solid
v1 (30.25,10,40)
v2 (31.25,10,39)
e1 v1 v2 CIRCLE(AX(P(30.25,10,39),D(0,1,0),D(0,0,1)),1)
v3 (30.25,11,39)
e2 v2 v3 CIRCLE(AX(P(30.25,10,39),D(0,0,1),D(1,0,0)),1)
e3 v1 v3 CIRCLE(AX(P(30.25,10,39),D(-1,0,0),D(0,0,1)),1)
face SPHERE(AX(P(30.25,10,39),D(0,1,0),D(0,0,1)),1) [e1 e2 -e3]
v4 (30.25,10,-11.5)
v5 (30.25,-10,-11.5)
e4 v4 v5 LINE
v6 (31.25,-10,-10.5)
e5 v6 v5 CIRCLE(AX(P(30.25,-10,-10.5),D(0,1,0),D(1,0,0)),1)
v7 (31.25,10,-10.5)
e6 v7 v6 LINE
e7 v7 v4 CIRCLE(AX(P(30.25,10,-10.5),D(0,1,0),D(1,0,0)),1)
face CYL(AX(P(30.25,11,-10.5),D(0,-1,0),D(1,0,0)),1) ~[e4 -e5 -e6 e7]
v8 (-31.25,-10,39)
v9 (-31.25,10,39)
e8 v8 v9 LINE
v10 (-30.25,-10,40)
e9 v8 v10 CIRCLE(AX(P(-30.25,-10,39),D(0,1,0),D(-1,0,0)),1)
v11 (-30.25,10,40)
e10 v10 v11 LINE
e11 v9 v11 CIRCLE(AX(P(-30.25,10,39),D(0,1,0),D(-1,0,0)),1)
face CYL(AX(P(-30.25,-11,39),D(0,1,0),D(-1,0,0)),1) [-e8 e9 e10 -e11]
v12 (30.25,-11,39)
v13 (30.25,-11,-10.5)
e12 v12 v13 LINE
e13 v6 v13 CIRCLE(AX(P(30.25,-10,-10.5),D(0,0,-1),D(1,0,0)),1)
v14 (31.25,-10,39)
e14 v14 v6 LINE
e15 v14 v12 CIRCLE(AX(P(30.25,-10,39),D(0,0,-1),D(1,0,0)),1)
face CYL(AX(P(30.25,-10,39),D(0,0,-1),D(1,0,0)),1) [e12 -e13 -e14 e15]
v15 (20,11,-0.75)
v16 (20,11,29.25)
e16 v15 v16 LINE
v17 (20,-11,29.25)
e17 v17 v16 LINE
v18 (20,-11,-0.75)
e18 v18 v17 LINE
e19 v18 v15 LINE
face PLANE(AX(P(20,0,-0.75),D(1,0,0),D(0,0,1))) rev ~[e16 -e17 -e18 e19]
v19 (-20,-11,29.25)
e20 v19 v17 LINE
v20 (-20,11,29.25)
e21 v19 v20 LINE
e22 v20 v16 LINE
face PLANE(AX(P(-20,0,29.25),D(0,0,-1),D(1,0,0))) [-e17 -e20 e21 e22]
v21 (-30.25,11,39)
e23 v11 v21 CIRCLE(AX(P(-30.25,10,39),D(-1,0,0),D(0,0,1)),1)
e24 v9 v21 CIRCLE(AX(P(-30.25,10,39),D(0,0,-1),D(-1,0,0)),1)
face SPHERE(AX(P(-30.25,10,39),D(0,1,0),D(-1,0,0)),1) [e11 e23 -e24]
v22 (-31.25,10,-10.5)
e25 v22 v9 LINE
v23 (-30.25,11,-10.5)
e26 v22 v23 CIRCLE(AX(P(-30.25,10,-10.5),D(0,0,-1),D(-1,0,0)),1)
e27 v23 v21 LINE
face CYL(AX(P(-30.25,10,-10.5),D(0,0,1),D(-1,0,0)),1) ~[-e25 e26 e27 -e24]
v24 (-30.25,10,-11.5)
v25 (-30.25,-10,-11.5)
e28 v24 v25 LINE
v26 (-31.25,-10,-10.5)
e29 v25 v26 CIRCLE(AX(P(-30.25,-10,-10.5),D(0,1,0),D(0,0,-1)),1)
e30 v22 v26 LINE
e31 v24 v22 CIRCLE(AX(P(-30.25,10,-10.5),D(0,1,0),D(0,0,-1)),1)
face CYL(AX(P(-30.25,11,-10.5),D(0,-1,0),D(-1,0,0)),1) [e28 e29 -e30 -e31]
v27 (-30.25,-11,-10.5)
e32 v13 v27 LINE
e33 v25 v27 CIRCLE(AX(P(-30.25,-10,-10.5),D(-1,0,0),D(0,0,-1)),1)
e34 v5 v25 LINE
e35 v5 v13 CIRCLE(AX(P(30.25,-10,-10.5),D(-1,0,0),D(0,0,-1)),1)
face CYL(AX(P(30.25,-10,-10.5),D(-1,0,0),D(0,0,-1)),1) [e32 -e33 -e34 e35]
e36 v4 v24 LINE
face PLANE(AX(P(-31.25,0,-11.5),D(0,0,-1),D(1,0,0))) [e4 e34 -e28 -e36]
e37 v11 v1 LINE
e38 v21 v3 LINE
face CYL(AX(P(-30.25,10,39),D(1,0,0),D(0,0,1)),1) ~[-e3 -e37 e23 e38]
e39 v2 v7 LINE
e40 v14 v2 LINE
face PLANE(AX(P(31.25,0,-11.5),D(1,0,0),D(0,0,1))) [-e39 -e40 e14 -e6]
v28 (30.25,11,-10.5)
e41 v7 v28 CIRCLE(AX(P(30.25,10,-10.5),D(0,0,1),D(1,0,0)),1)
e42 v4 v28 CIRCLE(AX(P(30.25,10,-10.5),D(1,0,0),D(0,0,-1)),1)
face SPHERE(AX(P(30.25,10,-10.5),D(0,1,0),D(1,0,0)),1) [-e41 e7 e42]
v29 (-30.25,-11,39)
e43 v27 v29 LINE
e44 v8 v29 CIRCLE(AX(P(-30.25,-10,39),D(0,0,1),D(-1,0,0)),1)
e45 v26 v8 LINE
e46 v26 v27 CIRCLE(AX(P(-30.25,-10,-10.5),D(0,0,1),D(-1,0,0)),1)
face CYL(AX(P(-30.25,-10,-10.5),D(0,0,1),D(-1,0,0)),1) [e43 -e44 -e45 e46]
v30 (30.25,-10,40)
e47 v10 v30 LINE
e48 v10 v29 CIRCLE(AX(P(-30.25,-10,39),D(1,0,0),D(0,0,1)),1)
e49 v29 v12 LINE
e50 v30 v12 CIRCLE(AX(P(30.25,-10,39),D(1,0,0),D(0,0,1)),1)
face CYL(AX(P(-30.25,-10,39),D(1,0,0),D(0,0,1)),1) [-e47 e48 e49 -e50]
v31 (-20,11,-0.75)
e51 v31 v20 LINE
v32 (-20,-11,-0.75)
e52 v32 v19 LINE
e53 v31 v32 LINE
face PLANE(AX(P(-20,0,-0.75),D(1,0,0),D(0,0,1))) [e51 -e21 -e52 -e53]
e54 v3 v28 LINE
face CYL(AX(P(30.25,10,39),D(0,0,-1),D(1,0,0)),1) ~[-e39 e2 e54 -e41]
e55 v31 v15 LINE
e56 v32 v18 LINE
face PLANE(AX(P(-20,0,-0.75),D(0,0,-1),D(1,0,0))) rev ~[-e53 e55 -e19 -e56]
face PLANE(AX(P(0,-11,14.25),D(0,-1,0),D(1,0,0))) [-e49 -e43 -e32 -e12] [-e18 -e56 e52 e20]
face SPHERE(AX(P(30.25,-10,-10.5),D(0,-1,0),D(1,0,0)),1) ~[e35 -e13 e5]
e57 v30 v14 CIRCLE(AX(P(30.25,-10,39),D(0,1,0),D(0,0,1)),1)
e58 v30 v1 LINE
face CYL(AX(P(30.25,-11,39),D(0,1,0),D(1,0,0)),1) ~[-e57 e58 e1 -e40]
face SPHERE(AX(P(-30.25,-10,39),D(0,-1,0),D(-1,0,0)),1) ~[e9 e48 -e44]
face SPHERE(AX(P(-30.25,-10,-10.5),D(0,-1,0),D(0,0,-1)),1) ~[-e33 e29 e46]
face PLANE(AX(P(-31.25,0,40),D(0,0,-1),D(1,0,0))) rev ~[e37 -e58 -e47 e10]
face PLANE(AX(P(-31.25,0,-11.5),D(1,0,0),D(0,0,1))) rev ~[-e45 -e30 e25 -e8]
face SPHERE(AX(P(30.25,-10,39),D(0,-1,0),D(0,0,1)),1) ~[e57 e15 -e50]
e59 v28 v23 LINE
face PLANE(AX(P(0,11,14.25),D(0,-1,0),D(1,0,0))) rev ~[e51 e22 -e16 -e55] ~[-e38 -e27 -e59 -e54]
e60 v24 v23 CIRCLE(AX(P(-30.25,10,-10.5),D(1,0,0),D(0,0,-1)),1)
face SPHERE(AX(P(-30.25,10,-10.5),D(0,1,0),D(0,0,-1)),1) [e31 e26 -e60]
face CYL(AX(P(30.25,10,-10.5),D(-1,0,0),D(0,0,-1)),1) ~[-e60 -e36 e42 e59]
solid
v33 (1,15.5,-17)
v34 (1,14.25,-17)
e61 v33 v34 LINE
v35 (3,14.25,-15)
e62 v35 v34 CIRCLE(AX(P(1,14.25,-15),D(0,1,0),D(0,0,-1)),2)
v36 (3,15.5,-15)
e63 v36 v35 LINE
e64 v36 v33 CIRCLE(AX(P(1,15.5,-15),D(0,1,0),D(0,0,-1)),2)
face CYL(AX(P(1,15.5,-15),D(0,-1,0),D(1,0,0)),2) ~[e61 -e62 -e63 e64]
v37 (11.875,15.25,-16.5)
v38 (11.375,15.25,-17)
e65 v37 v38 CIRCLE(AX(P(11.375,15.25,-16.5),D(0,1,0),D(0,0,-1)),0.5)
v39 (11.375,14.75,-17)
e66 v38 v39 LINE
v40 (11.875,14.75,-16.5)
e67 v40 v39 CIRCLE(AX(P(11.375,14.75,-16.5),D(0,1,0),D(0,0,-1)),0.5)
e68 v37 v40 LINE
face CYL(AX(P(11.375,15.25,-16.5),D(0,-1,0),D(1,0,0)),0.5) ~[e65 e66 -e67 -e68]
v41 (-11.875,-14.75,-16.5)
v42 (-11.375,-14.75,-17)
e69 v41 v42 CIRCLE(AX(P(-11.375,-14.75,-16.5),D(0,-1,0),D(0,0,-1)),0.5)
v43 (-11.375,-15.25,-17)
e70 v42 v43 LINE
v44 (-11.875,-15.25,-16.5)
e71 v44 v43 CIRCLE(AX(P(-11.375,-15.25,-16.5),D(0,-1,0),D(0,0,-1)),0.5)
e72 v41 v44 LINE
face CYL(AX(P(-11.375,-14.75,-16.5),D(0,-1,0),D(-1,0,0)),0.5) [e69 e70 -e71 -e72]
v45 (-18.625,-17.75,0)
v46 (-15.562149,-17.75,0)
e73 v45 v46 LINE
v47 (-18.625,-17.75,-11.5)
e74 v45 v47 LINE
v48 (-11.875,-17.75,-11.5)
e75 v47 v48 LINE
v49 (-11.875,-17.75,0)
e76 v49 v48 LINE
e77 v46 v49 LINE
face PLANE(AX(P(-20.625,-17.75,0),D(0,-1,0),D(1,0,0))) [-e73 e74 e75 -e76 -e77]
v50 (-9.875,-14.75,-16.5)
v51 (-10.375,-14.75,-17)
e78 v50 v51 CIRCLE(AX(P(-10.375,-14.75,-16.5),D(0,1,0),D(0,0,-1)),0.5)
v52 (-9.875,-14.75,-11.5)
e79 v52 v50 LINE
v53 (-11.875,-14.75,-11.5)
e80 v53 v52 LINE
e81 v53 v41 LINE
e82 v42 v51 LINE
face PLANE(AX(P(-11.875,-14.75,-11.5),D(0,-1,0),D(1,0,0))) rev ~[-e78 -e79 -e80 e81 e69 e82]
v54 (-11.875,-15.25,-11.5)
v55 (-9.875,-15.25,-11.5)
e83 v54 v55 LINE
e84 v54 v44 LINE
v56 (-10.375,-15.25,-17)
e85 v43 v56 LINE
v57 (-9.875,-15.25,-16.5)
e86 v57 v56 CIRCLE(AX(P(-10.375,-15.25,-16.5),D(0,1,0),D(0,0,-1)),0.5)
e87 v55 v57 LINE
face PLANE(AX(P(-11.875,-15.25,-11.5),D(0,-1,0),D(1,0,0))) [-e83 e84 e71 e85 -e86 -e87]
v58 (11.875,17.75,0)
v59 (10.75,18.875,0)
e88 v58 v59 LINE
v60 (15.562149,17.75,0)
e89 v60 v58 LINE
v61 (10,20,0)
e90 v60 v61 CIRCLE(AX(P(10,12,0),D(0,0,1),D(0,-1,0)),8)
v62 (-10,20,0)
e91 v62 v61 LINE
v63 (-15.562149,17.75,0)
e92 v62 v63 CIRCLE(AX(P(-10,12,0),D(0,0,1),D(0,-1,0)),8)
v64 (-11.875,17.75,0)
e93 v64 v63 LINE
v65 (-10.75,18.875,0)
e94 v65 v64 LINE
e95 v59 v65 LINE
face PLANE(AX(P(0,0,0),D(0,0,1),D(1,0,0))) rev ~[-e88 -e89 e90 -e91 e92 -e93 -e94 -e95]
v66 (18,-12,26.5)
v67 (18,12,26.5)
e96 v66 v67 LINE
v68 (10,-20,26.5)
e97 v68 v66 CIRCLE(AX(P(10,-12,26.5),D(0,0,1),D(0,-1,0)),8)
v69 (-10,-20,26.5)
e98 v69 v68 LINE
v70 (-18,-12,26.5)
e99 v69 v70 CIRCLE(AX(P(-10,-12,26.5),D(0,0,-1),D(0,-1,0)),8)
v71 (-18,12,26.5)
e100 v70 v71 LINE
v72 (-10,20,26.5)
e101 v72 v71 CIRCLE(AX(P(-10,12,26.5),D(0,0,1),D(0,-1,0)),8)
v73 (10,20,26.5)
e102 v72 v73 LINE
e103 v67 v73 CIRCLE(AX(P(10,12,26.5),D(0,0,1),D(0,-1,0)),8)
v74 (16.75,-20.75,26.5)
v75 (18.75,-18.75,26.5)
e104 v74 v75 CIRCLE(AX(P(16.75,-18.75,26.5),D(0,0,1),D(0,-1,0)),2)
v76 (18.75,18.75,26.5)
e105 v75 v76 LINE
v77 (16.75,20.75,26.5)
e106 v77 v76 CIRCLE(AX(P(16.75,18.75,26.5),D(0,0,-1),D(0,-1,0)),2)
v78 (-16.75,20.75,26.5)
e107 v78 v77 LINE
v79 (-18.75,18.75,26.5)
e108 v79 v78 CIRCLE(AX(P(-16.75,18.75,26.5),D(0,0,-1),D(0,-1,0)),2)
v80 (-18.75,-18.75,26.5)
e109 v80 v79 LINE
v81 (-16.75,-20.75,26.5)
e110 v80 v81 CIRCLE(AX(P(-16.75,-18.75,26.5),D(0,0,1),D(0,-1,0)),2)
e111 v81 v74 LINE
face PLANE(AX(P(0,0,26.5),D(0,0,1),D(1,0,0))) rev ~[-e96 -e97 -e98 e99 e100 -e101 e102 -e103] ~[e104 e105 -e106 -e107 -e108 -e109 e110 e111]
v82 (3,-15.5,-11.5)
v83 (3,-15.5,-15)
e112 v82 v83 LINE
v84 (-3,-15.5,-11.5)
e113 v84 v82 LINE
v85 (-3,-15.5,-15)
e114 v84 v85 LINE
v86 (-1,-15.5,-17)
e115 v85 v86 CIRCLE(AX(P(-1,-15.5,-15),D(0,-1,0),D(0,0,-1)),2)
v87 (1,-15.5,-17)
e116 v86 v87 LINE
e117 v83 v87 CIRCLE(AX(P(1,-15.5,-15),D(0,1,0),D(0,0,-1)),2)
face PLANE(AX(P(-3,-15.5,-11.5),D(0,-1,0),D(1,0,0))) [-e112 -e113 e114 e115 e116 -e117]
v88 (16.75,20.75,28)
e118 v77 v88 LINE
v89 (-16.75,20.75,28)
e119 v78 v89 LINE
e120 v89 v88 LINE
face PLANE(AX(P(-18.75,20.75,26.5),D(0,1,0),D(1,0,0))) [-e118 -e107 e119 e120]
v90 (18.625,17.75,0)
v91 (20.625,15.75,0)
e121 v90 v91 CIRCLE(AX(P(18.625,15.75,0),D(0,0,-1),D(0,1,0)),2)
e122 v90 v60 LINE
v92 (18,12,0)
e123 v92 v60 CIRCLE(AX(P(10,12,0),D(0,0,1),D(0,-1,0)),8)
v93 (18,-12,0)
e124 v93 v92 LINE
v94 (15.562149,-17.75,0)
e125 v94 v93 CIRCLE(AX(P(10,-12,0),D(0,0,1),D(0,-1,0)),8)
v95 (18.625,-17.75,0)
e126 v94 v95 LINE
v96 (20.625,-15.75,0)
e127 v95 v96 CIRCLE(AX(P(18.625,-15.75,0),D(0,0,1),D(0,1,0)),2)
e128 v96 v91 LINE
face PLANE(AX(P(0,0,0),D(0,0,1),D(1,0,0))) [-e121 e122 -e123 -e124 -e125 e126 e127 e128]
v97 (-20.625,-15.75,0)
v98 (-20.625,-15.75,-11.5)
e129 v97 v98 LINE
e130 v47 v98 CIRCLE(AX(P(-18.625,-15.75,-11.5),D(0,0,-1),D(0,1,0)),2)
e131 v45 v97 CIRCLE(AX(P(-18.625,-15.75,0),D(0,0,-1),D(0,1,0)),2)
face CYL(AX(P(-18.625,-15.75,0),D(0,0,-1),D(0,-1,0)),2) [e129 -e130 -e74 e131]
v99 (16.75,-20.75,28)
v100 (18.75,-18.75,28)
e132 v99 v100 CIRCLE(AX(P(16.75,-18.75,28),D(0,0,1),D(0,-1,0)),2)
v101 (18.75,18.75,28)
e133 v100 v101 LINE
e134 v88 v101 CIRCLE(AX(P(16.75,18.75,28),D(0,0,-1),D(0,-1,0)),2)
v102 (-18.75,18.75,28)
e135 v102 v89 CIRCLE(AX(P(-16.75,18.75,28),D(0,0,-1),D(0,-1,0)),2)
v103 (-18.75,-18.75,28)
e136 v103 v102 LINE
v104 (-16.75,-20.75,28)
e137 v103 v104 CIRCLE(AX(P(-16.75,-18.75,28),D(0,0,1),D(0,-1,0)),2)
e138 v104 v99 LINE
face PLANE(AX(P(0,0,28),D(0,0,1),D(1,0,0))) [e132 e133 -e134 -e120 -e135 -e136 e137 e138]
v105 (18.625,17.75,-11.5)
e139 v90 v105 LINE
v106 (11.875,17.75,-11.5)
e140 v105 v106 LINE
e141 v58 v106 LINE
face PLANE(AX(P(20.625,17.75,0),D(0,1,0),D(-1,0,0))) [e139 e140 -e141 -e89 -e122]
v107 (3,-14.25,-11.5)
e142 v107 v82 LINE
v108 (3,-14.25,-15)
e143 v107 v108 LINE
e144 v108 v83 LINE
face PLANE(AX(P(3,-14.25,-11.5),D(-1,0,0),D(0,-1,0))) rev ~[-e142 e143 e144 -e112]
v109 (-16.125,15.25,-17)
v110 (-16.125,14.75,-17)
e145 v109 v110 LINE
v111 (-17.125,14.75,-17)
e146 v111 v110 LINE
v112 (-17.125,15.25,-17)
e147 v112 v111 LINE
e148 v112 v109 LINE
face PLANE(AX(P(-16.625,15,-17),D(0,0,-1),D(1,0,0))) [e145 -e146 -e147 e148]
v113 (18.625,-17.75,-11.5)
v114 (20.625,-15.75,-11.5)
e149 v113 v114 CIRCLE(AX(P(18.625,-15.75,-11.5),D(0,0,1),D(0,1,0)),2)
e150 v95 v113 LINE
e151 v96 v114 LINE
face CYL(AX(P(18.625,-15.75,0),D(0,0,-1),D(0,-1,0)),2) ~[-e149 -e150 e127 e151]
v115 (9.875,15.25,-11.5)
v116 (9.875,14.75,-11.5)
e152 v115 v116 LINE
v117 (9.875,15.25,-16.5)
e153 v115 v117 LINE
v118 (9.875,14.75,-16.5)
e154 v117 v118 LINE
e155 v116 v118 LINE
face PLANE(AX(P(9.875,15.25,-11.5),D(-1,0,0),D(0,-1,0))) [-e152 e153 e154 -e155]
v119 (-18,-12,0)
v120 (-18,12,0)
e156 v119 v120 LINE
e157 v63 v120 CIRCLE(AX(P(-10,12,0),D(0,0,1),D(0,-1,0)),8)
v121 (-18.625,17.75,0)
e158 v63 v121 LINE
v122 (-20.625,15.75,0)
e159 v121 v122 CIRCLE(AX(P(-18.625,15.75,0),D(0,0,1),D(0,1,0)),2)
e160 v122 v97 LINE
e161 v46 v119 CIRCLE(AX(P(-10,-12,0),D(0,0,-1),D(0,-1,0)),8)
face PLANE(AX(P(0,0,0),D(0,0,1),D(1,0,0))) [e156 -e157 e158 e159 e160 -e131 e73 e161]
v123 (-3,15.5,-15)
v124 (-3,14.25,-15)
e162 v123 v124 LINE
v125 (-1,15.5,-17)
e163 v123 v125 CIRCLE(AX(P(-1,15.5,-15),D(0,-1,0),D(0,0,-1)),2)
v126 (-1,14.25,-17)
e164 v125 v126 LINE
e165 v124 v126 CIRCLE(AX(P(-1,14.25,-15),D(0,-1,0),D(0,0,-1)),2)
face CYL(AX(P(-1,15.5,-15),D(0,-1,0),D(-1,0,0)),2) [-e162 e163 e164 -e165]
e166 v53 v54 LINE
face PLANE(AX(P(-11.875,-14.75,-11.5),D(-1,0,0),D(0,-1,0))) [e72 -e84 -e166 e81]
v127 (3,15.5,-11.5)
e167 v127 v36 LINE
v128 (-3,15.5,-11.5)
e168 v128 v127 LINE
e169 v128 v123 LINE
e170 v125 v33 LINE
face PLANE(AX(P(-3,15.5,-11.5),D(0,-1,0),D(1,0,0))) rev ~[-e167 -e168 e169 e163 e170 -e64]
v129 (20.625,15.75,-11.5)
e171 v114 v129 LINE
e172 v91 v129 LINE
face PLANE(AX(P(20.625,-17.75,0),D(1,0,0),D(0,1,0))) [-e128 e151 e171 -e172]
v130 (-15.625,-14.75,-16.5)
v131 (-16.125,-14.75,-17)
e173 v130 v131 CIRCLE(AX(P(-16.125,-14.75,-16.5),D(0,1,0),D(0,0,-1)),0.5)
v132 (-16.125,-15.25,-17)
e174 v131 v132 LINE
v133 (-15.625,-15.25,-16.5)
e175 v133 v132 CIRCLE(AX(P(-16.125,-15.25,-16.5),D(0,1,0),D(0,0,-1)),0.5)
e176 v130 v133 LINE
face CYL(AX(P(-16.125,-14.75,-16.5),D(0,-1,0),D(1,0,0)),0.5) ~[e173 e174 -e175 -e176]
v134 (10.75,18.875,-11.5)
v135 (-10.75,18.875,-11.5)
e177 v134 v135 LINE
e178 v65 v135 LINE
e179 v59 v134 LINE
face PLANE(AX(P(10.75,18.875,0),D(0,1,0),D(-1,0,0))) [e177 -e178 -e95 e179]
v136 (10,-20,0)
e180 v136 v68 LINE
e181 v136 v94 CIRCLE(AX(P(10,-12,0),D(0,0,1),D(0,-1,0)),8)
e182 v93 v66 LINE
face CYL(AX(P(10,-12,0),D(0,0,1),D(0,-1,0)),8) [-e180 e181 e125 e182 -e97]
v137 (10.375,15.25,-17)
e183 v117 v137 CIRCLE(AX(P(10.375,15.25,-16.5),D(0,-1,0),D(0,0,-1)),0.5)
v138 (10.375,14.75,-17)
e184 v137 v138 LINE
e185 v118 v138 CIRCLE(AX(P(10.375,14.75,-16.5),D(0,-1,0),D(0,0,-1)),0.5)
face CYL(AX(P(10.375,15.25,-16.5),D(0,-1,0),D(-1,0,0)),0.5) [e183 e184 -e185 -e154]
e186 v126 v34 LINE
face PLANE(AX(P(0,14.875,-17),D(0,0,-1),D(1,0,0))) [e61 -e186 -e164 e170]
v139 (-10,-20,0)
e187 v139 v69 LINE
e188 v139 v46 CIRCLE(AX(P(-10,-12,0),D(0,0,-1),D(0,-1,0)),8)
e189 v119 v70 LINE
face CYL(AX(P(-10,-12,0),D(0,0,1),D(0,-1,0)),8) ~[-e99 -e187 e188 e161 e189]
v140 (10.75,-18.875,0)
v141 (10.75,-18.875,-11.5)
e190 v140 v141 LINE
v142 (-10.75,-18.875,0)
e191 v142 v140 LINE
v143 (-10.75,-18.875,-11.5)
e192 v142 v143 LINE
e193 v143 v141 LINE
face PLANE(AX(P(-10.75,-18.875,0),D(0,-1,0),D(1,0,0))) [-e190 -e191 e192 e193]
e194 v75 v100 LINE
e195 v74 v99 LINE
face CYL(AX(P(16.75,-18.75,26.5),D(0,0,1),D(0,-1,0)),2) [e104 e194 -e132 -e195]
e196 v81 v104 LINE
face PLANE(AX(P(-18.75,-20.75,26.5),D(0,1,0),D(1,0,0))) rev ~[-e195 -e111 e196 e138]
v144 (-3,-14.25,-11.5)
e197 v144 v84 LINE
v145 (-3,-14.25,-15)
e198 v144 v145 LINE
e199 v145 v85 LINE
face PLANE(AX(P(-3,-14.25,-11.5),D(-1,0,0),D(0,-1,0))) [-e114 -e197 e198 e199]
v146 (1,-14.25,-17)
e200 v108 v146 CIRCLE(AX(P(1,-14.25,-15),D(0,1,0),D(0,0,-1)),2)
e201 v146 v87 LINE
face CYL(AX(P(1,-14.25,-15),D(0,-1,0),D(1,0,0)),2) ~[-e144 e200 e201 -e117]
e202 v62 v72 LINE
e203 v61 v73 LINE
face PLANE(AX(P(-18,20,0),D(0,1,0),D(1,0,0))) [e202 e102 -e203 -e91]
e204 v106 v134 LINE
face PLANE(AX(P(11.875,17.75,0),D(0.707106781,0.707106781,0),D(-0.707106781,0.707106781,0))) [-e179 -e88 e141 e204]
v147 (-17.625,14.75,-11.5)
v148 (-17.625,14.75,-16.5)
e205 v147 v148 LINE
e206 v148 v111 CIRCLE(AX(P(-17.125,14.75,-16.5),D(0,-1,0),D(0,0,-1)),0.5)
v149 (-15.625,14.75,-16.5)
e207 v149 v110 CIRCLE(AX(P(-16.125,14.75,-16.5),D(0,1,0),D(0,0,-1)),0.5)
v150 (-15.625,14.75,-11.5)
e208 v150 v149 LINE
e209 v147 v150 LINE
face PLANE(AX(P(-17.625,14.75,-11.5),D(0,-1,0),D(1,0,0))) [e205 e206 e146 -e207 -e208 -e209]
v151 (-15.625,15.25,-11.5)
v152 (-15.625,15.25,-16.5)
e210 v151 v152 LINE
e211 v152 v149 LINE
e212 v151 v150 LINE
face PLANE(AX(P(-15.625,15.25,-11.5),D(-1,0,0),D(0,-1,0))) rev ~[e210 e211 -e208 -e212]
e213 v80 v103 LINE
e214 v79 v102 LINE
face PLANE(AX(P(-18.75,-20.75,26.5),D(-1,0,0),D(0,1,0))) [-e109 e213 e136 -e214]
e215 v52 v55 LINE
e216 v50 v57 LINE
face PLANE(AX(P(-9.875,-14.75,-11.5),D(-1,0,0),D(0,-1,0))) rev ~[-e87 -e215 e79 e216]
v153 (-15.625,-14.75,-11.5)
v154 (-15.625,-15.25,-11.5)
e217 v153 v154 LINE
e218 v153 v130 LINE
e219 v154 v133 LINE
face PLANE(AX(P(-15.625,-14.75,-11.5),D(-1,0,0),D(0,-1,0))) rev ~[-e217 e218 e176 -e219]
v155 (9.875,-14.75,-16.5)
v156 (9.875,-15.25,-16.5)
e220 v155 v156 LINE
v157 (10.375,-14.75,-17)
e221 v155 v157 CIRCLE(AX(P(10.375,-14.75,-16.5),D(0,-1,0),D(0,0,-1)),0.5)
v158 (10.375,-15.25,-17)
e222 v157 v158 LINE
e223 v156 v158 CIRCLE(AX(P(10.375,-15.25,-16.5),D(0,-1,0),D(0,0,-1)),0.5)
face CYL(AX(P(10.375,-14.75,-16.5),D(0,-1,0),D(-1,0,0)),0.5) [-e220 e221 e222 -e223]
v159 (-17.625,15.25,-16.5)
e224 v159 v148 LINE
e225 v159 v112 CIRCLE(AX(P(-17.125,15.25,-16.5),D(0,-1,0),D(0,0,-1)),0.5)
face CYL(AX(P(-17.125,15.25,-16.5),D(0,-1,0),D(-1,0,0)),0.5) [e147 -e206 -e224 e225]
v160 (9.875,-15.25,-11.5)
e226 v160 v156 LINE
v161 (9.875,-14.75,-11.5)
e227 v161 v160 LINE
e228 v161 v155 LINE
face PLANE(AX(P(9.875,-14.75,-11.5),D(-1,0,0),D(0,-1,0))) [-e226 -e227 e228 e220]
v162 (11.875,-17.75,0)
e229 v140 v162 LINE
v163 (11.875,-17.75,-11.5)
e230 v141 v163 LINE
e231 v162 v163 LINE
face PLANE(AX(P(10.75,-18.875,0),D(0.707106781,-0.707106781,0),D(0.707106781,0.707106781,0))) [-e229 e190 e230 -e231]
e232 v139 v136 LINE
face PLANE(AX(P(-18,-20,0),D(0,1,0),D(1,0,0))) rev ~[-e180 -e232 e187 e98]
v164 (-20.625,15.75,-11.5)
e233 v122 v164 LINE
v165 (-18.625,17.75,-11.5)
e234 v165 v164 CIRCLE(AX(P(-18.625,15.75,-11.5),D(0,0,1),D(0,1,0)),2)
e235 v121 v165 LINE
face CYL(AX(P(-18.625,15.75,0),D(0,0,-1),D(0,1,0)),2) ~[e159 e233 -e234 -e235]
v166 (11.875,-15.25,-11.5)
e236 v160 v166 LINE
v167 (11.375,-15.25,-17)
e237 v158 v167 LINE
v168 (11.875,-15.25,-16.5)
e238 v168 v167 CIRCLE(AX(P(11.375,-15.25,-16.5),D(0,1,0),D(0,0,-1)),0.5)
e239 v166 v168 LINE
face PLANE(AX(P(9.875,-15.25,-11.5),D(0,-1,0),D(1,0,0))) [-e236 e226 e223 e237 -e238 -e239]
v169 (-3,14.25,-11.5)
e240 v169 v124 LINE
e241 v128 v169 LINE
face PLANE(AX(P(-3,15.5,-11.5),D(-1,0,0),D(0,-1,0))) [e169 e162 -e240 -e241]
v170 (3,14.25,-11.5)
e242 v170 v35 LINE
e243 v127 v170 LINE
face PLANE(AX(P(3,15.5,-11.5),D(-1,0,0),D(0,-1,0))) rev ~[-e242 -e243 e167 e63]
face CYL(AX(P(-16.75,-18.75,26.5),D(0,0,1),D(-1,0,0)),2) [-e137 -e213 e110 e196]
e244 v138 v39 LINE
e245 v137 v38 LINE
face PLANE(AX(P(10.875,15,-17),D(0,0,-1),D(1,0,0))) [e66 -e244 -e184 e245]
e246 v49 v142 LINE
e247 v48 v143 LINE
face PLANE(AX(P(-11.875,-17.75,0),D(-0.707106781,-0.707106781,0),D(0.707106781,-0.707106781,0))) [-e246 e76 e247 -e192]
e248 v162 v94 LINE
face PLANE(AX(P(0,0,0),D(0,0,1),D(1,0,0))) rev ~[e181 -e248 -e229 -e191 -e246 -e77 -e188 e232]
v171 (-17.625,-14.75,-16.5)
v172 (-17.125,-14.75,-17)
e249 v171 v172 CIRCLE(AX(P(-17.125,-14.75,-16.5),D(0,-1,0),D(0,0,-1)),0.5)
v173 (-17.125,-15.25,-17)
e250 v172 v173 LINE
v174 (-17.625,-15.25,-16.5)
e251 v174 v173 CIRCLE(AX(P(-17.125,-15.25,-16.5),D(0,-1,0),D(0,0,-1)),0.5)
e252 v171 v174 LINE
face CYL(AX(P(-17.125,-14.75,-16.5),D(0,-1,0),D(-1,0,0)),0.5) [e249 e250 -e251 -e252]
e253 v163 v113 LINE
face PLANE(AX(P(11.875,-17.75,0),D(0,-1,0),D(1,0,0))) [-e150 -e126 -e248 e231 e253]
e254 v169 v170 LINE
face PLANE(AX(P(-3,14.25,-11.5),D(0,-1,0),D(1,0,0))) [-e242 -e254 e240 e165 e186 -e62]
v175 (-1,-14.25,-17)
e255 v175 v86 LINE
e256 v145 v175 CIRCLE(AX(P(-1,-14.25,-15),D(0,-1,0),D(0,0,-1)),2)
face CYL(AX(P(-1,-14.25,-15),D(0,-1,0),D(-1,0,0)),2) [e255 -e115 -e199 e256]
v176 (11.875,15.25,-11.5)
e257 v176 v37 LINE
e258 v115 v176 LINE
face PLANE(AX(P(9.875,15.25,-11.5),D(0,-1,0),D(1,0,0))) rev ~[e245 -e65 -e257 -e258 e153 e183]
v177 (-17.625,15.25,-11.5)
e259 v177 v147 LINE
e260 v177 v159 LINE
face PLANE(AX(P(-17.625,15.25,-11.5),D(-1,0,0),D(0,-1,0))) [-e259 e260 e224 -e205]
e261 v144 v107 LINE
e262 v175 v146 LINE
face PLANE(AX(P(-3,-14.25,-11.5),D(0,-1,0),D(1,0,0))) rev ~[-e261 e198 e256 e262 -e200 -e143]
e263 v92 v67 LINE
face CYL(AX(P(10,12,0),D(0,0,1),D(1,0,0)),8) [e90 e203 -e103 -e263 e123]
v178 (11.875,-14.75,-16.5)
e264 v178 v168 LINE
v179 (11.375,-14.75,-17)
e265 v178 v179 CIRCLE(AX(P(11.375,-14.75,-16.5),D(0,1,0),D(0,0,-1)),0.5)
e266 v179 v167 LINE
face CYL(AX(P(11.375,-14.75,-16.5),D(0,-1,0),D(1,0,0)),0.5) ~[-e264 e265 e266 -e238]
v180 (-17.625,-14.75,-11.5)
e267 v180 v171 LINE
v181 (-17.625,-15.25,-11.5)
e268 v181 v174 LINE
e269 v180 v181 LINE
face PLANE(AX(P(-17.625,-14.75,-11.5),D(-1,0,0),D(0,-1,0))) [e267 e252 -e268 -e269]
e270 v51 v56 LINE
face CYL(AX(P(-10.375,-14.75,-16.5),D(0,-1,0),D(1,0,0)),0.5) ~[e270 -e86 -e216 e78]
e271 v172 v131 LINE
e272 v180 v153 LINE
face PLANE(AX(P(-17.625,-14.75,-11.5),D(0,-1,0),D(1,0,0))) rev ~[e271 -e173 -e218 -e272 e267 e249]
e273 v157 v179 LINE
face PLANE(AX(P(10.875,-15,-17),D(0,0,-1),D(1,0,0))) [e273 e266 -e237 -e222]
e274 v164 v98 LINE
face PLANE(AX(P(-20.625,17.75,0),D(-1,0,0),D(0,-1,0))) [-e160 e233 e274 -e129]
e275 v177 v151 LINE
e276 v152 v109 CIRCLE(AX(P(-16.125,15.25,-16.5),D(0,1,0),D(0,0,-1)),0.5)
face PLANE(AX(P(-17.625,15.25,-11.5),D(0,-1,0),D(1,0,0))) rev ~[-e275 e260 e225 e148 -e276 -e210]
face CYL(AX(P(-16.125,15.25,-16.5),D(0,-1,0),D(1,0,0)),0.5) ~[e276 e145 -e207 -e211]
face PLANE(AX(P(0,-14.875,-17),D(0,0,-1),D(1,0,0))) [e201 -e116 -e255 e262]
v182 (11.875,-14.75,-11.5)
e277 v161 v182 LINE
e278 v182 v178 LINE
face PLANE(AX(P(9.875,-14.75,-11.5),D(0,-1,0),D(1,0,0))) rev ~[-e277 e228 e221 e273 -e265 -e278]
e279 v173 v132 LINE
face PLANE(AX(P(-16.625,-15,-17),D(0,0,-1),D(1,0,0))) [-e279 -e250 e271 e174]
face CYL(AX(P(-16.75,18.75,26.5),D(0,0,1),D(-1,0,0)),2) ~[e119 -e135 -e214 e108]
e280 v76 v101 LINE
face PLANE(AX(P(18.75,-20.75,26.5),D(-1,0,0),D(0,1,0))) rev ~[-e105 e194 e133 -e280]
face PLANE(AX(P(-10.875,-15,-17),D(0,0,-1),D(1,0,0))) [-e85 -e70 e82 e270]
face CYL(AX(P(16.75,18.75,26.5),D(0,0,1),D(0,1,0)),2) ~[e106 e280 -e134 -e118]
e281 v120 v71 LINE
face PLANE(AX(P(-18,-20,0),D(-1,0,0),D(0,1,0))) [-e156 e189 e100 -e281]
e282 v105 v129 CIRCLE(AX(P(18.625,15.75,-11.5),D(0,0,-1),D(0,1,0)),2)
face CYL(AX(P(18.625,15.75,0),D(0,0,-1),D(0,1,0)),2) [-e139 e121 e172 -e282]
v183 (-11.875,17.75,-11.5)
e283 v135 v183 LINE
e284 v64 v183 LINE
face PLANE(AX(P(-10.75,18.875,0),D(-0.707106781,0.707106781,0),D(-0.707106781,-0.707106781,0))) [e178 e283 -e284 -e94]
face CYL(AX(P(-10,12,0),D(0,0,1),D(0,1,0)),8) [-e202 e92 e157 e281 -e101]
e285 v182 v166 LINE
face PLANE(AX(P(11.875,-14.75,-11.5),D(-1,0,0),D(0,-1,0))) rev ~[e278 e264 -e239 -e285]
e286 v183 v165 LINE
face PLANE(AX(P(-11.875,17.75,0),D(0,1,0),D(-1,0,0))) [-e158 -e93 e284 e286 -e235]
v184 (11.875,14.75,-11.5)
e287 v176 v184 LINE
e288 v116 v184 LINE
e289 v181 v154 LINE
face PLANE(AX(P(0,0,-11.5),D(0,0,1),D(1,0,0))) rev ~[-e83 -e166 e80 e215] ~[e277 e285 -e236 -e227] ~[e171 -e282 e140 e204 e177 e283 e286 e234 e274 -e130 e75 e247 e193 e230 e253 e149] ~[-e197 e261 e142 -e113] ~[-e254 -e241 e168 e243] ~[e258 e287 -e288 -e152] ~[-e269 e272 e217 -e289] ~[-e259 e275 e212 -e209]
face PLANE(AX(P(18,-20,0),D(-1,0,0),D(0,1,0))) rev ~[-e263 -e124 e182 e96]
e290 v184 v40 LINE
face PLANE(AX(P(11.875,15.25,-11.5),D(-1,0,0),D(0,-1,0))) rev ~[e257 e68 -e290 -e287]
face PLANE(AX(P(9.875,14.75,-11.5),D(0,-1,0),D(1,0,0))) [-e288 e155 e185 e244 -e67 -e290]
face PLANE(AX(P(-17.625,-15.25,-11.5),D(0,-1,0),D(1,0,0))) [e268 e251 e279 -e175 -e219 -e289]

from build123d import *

# Parameters (mm, degrees)
SKETCH001_W       = 36
SKETCH001_H       = 40
PAD001_DEPTH      = 26.5
SKETCH002_W       = 37.5
SKETCH002_H       = 41.5
PAD002_DEPTH      = 1.5
FILLET_R          = 8
PAD_DEPTH         = 11.5
FILLET001_R       = 2
FILLET002_R       = 2
SKETCH005_W       = 2
SKETCH005_H       = 0.5
SKETCH005_W_2     = 6
SKETCH005_H_2     = 1.25
PAD004_DEPTH      = 5.5
FILLET005_R       = 2
FILLET006_R       = 0.5
SKETCH003_W       = 62.5
SKETCH003_H       = 51.5
SKETCH003_W_2     = 40
SKETCH003_H_2     = 30
PAD003_DEPTH      = 11
PAD003_DEPTH_BACK = 11
FILLET003_R       = 1
FILLET004_R       = 1


with BuildPart() as body:
    # Sketch001 → Pad001 (new body)
    with BuildSketch(Plane.XY):
        Rectangle(SKETCH001_W, SKETCH001_H)
    extrude(amount=PAD001_DEPTH)

    # Sketch002 (on Face6 of Pad001) → Pad002 (join)
    with BuildSketch(Plane.XY.offset(26.5)):
        Rectangle(SKETCH002_W, SKETCH002_H)
    extrude(amount=PAD002_DEPTH)

    # Fillet
    fillet_edges = [body.edges().sort_by_distance(p)[0] for p in [
        (-18, -20, 13.25),
        (18, -20, 13.25),
        (-18, 20, 13.25),
        (18, 20, 13.25),
    ]]
    fillet(fillet_edges, radius=FILLET_R)

    # Sketch → Pad (join)
    with BuildSketch(Plane.XY):
        Polygon((-20.625, 17.75), (-20.625, -17.75), (-11.875, -17.75), (-10.75, -18.875), (10.75, -18.875), (11.875, -17.75), (20.625, -17.75), (20.625, 17.75), (11.875, 17.75), (10.75, 18.875), (-10.75, 18.875), (-11.875, 17.75), align=None)
    extrude(amount=-PAD_DEPTH)

    # Fillet001
    fillet001_edges = [body.edges().sort_by_distance(p)[0] for p in [
        (-18.75, 20.75, 27.25),
        (-18.75, -20.75, 27.25),
        (18.75, -20.75, 27.25),
        (18.75, 20.75, 27.25),
    ]]
    fillet(fillet001_edges, radius=FILLET001_R)

    # Fillet002
    fillet002_edges = [body.edges().sort_by_distance(p)[0] for p in [
        (20.625, -17.75, -5.75),
        (20.625, 17.75, -5.75),
        (-20.625, -17.75, -5.75),
        (-20.625, 17.75, -5.75),
    ]]
    fillet(fillet002_edges, radius=FILLET002_R)

    # Sketch005 (on Face11 of Fillet002) → Pad004 (join)
    with BuildSketch(Plane(origin=(0, 0, -11.5), x_dir=(1, 0, 0), z_dir=(0, 0, -1))):
        with Locations((-16.625, 15)):
            Rectangle(SKETCH005_W, SKETCH005_H)
        with Locations((-10.875, 15)):
            Rectangle(SKETCH005_W, SKETCH005_H)
        with Locations((0, 14.875)):
            Rectangle(SKETCH005_W_2, SKETCH005_H_2)
        with Locations((10.875, 15)):
            Rectangle(SKETCH005_W, SKETCH005_H)
        with Locations((-16.625, -15)):
            Rectangle(SKETCH005_W, SKETCH005_H)
        with Locations((10.875, -15)):
            Rectangle(SKETCH005_W, SKETCH005_H)
        with Locations((0, -14.875)):
            Rectangle(SKETCH005_W_2, SKETCH005_H_2)
    extrude(amount=PAD004_DEPTH)

    # Fillet005
    fillet005_edges = [body.edges().sort_by_distance(p)[0] for p in [
        (3, -14.875, -17),
        (-3, -14.875, -17),
        (3, 14.875, -17),
        (-3, 14.875, -17),
    ]]
    fillet(fillet005_edges, radius=FILLET005_R)

    # Fillet006
    fillet006_edges = [body.edges().sort_by_distance(p)[0] for p in [
        (11.875, 15, -17),
        (9.875, 15, -17),
        (-15.625, 15, -17),
        (-17.625, 15, -17),
        (-9.875, -15, -17),
        (-11.875, -15, -17),
        (-15.625, -15, -17),
        (-17.625, -15, -17),
        (11.875, -15, -17),
        (9.875, -15, -17),
    ]]
    fillet(fillet006_edges, radius=FILLET006_R)


with BuildPart() as body001:
    # Sketch003 → Pad003 (new body, two sides)
    with BuildSketch(Plane.XZ) as pad003_sk:
        with Locations((0, 14.25)):
            Rectangle(SKETCH003_W, SKETCH003_H)
        with Locations((0, 14.25)):
            Rectangle(SKETCH003_W_2, SKETCH003_H_2, mode=Mode.SUBTRACT)
    extrude(amount=PAD003_DEPTH)
    extrude(pad003_sk.sketch, amount=-PAD003_DEPTH_BACK)

    # Fillet003
    fillet003_edges = [body001.edges().sort_by_distance(p)[0] for p in [
        (31.25, 0, -11.5),
        (31.25, 0, 40),
        (-31.25, 0, 40),
        (-31.25, 0, -11.5),
    ]]
    fillet(fillet003_edges, radius=FILLET003_R)

    # Fillet004
    fillet004_edges = [body001.edges().sort_by_distance(p)[0] for p in [
        (-31.25, 11, 14.25),
        (-31.25, -11, 14.25),
    ]]
    fillet(fillet004_edges, radius=FILLET004_R)


solid = Compound([body.part, body001.part])
